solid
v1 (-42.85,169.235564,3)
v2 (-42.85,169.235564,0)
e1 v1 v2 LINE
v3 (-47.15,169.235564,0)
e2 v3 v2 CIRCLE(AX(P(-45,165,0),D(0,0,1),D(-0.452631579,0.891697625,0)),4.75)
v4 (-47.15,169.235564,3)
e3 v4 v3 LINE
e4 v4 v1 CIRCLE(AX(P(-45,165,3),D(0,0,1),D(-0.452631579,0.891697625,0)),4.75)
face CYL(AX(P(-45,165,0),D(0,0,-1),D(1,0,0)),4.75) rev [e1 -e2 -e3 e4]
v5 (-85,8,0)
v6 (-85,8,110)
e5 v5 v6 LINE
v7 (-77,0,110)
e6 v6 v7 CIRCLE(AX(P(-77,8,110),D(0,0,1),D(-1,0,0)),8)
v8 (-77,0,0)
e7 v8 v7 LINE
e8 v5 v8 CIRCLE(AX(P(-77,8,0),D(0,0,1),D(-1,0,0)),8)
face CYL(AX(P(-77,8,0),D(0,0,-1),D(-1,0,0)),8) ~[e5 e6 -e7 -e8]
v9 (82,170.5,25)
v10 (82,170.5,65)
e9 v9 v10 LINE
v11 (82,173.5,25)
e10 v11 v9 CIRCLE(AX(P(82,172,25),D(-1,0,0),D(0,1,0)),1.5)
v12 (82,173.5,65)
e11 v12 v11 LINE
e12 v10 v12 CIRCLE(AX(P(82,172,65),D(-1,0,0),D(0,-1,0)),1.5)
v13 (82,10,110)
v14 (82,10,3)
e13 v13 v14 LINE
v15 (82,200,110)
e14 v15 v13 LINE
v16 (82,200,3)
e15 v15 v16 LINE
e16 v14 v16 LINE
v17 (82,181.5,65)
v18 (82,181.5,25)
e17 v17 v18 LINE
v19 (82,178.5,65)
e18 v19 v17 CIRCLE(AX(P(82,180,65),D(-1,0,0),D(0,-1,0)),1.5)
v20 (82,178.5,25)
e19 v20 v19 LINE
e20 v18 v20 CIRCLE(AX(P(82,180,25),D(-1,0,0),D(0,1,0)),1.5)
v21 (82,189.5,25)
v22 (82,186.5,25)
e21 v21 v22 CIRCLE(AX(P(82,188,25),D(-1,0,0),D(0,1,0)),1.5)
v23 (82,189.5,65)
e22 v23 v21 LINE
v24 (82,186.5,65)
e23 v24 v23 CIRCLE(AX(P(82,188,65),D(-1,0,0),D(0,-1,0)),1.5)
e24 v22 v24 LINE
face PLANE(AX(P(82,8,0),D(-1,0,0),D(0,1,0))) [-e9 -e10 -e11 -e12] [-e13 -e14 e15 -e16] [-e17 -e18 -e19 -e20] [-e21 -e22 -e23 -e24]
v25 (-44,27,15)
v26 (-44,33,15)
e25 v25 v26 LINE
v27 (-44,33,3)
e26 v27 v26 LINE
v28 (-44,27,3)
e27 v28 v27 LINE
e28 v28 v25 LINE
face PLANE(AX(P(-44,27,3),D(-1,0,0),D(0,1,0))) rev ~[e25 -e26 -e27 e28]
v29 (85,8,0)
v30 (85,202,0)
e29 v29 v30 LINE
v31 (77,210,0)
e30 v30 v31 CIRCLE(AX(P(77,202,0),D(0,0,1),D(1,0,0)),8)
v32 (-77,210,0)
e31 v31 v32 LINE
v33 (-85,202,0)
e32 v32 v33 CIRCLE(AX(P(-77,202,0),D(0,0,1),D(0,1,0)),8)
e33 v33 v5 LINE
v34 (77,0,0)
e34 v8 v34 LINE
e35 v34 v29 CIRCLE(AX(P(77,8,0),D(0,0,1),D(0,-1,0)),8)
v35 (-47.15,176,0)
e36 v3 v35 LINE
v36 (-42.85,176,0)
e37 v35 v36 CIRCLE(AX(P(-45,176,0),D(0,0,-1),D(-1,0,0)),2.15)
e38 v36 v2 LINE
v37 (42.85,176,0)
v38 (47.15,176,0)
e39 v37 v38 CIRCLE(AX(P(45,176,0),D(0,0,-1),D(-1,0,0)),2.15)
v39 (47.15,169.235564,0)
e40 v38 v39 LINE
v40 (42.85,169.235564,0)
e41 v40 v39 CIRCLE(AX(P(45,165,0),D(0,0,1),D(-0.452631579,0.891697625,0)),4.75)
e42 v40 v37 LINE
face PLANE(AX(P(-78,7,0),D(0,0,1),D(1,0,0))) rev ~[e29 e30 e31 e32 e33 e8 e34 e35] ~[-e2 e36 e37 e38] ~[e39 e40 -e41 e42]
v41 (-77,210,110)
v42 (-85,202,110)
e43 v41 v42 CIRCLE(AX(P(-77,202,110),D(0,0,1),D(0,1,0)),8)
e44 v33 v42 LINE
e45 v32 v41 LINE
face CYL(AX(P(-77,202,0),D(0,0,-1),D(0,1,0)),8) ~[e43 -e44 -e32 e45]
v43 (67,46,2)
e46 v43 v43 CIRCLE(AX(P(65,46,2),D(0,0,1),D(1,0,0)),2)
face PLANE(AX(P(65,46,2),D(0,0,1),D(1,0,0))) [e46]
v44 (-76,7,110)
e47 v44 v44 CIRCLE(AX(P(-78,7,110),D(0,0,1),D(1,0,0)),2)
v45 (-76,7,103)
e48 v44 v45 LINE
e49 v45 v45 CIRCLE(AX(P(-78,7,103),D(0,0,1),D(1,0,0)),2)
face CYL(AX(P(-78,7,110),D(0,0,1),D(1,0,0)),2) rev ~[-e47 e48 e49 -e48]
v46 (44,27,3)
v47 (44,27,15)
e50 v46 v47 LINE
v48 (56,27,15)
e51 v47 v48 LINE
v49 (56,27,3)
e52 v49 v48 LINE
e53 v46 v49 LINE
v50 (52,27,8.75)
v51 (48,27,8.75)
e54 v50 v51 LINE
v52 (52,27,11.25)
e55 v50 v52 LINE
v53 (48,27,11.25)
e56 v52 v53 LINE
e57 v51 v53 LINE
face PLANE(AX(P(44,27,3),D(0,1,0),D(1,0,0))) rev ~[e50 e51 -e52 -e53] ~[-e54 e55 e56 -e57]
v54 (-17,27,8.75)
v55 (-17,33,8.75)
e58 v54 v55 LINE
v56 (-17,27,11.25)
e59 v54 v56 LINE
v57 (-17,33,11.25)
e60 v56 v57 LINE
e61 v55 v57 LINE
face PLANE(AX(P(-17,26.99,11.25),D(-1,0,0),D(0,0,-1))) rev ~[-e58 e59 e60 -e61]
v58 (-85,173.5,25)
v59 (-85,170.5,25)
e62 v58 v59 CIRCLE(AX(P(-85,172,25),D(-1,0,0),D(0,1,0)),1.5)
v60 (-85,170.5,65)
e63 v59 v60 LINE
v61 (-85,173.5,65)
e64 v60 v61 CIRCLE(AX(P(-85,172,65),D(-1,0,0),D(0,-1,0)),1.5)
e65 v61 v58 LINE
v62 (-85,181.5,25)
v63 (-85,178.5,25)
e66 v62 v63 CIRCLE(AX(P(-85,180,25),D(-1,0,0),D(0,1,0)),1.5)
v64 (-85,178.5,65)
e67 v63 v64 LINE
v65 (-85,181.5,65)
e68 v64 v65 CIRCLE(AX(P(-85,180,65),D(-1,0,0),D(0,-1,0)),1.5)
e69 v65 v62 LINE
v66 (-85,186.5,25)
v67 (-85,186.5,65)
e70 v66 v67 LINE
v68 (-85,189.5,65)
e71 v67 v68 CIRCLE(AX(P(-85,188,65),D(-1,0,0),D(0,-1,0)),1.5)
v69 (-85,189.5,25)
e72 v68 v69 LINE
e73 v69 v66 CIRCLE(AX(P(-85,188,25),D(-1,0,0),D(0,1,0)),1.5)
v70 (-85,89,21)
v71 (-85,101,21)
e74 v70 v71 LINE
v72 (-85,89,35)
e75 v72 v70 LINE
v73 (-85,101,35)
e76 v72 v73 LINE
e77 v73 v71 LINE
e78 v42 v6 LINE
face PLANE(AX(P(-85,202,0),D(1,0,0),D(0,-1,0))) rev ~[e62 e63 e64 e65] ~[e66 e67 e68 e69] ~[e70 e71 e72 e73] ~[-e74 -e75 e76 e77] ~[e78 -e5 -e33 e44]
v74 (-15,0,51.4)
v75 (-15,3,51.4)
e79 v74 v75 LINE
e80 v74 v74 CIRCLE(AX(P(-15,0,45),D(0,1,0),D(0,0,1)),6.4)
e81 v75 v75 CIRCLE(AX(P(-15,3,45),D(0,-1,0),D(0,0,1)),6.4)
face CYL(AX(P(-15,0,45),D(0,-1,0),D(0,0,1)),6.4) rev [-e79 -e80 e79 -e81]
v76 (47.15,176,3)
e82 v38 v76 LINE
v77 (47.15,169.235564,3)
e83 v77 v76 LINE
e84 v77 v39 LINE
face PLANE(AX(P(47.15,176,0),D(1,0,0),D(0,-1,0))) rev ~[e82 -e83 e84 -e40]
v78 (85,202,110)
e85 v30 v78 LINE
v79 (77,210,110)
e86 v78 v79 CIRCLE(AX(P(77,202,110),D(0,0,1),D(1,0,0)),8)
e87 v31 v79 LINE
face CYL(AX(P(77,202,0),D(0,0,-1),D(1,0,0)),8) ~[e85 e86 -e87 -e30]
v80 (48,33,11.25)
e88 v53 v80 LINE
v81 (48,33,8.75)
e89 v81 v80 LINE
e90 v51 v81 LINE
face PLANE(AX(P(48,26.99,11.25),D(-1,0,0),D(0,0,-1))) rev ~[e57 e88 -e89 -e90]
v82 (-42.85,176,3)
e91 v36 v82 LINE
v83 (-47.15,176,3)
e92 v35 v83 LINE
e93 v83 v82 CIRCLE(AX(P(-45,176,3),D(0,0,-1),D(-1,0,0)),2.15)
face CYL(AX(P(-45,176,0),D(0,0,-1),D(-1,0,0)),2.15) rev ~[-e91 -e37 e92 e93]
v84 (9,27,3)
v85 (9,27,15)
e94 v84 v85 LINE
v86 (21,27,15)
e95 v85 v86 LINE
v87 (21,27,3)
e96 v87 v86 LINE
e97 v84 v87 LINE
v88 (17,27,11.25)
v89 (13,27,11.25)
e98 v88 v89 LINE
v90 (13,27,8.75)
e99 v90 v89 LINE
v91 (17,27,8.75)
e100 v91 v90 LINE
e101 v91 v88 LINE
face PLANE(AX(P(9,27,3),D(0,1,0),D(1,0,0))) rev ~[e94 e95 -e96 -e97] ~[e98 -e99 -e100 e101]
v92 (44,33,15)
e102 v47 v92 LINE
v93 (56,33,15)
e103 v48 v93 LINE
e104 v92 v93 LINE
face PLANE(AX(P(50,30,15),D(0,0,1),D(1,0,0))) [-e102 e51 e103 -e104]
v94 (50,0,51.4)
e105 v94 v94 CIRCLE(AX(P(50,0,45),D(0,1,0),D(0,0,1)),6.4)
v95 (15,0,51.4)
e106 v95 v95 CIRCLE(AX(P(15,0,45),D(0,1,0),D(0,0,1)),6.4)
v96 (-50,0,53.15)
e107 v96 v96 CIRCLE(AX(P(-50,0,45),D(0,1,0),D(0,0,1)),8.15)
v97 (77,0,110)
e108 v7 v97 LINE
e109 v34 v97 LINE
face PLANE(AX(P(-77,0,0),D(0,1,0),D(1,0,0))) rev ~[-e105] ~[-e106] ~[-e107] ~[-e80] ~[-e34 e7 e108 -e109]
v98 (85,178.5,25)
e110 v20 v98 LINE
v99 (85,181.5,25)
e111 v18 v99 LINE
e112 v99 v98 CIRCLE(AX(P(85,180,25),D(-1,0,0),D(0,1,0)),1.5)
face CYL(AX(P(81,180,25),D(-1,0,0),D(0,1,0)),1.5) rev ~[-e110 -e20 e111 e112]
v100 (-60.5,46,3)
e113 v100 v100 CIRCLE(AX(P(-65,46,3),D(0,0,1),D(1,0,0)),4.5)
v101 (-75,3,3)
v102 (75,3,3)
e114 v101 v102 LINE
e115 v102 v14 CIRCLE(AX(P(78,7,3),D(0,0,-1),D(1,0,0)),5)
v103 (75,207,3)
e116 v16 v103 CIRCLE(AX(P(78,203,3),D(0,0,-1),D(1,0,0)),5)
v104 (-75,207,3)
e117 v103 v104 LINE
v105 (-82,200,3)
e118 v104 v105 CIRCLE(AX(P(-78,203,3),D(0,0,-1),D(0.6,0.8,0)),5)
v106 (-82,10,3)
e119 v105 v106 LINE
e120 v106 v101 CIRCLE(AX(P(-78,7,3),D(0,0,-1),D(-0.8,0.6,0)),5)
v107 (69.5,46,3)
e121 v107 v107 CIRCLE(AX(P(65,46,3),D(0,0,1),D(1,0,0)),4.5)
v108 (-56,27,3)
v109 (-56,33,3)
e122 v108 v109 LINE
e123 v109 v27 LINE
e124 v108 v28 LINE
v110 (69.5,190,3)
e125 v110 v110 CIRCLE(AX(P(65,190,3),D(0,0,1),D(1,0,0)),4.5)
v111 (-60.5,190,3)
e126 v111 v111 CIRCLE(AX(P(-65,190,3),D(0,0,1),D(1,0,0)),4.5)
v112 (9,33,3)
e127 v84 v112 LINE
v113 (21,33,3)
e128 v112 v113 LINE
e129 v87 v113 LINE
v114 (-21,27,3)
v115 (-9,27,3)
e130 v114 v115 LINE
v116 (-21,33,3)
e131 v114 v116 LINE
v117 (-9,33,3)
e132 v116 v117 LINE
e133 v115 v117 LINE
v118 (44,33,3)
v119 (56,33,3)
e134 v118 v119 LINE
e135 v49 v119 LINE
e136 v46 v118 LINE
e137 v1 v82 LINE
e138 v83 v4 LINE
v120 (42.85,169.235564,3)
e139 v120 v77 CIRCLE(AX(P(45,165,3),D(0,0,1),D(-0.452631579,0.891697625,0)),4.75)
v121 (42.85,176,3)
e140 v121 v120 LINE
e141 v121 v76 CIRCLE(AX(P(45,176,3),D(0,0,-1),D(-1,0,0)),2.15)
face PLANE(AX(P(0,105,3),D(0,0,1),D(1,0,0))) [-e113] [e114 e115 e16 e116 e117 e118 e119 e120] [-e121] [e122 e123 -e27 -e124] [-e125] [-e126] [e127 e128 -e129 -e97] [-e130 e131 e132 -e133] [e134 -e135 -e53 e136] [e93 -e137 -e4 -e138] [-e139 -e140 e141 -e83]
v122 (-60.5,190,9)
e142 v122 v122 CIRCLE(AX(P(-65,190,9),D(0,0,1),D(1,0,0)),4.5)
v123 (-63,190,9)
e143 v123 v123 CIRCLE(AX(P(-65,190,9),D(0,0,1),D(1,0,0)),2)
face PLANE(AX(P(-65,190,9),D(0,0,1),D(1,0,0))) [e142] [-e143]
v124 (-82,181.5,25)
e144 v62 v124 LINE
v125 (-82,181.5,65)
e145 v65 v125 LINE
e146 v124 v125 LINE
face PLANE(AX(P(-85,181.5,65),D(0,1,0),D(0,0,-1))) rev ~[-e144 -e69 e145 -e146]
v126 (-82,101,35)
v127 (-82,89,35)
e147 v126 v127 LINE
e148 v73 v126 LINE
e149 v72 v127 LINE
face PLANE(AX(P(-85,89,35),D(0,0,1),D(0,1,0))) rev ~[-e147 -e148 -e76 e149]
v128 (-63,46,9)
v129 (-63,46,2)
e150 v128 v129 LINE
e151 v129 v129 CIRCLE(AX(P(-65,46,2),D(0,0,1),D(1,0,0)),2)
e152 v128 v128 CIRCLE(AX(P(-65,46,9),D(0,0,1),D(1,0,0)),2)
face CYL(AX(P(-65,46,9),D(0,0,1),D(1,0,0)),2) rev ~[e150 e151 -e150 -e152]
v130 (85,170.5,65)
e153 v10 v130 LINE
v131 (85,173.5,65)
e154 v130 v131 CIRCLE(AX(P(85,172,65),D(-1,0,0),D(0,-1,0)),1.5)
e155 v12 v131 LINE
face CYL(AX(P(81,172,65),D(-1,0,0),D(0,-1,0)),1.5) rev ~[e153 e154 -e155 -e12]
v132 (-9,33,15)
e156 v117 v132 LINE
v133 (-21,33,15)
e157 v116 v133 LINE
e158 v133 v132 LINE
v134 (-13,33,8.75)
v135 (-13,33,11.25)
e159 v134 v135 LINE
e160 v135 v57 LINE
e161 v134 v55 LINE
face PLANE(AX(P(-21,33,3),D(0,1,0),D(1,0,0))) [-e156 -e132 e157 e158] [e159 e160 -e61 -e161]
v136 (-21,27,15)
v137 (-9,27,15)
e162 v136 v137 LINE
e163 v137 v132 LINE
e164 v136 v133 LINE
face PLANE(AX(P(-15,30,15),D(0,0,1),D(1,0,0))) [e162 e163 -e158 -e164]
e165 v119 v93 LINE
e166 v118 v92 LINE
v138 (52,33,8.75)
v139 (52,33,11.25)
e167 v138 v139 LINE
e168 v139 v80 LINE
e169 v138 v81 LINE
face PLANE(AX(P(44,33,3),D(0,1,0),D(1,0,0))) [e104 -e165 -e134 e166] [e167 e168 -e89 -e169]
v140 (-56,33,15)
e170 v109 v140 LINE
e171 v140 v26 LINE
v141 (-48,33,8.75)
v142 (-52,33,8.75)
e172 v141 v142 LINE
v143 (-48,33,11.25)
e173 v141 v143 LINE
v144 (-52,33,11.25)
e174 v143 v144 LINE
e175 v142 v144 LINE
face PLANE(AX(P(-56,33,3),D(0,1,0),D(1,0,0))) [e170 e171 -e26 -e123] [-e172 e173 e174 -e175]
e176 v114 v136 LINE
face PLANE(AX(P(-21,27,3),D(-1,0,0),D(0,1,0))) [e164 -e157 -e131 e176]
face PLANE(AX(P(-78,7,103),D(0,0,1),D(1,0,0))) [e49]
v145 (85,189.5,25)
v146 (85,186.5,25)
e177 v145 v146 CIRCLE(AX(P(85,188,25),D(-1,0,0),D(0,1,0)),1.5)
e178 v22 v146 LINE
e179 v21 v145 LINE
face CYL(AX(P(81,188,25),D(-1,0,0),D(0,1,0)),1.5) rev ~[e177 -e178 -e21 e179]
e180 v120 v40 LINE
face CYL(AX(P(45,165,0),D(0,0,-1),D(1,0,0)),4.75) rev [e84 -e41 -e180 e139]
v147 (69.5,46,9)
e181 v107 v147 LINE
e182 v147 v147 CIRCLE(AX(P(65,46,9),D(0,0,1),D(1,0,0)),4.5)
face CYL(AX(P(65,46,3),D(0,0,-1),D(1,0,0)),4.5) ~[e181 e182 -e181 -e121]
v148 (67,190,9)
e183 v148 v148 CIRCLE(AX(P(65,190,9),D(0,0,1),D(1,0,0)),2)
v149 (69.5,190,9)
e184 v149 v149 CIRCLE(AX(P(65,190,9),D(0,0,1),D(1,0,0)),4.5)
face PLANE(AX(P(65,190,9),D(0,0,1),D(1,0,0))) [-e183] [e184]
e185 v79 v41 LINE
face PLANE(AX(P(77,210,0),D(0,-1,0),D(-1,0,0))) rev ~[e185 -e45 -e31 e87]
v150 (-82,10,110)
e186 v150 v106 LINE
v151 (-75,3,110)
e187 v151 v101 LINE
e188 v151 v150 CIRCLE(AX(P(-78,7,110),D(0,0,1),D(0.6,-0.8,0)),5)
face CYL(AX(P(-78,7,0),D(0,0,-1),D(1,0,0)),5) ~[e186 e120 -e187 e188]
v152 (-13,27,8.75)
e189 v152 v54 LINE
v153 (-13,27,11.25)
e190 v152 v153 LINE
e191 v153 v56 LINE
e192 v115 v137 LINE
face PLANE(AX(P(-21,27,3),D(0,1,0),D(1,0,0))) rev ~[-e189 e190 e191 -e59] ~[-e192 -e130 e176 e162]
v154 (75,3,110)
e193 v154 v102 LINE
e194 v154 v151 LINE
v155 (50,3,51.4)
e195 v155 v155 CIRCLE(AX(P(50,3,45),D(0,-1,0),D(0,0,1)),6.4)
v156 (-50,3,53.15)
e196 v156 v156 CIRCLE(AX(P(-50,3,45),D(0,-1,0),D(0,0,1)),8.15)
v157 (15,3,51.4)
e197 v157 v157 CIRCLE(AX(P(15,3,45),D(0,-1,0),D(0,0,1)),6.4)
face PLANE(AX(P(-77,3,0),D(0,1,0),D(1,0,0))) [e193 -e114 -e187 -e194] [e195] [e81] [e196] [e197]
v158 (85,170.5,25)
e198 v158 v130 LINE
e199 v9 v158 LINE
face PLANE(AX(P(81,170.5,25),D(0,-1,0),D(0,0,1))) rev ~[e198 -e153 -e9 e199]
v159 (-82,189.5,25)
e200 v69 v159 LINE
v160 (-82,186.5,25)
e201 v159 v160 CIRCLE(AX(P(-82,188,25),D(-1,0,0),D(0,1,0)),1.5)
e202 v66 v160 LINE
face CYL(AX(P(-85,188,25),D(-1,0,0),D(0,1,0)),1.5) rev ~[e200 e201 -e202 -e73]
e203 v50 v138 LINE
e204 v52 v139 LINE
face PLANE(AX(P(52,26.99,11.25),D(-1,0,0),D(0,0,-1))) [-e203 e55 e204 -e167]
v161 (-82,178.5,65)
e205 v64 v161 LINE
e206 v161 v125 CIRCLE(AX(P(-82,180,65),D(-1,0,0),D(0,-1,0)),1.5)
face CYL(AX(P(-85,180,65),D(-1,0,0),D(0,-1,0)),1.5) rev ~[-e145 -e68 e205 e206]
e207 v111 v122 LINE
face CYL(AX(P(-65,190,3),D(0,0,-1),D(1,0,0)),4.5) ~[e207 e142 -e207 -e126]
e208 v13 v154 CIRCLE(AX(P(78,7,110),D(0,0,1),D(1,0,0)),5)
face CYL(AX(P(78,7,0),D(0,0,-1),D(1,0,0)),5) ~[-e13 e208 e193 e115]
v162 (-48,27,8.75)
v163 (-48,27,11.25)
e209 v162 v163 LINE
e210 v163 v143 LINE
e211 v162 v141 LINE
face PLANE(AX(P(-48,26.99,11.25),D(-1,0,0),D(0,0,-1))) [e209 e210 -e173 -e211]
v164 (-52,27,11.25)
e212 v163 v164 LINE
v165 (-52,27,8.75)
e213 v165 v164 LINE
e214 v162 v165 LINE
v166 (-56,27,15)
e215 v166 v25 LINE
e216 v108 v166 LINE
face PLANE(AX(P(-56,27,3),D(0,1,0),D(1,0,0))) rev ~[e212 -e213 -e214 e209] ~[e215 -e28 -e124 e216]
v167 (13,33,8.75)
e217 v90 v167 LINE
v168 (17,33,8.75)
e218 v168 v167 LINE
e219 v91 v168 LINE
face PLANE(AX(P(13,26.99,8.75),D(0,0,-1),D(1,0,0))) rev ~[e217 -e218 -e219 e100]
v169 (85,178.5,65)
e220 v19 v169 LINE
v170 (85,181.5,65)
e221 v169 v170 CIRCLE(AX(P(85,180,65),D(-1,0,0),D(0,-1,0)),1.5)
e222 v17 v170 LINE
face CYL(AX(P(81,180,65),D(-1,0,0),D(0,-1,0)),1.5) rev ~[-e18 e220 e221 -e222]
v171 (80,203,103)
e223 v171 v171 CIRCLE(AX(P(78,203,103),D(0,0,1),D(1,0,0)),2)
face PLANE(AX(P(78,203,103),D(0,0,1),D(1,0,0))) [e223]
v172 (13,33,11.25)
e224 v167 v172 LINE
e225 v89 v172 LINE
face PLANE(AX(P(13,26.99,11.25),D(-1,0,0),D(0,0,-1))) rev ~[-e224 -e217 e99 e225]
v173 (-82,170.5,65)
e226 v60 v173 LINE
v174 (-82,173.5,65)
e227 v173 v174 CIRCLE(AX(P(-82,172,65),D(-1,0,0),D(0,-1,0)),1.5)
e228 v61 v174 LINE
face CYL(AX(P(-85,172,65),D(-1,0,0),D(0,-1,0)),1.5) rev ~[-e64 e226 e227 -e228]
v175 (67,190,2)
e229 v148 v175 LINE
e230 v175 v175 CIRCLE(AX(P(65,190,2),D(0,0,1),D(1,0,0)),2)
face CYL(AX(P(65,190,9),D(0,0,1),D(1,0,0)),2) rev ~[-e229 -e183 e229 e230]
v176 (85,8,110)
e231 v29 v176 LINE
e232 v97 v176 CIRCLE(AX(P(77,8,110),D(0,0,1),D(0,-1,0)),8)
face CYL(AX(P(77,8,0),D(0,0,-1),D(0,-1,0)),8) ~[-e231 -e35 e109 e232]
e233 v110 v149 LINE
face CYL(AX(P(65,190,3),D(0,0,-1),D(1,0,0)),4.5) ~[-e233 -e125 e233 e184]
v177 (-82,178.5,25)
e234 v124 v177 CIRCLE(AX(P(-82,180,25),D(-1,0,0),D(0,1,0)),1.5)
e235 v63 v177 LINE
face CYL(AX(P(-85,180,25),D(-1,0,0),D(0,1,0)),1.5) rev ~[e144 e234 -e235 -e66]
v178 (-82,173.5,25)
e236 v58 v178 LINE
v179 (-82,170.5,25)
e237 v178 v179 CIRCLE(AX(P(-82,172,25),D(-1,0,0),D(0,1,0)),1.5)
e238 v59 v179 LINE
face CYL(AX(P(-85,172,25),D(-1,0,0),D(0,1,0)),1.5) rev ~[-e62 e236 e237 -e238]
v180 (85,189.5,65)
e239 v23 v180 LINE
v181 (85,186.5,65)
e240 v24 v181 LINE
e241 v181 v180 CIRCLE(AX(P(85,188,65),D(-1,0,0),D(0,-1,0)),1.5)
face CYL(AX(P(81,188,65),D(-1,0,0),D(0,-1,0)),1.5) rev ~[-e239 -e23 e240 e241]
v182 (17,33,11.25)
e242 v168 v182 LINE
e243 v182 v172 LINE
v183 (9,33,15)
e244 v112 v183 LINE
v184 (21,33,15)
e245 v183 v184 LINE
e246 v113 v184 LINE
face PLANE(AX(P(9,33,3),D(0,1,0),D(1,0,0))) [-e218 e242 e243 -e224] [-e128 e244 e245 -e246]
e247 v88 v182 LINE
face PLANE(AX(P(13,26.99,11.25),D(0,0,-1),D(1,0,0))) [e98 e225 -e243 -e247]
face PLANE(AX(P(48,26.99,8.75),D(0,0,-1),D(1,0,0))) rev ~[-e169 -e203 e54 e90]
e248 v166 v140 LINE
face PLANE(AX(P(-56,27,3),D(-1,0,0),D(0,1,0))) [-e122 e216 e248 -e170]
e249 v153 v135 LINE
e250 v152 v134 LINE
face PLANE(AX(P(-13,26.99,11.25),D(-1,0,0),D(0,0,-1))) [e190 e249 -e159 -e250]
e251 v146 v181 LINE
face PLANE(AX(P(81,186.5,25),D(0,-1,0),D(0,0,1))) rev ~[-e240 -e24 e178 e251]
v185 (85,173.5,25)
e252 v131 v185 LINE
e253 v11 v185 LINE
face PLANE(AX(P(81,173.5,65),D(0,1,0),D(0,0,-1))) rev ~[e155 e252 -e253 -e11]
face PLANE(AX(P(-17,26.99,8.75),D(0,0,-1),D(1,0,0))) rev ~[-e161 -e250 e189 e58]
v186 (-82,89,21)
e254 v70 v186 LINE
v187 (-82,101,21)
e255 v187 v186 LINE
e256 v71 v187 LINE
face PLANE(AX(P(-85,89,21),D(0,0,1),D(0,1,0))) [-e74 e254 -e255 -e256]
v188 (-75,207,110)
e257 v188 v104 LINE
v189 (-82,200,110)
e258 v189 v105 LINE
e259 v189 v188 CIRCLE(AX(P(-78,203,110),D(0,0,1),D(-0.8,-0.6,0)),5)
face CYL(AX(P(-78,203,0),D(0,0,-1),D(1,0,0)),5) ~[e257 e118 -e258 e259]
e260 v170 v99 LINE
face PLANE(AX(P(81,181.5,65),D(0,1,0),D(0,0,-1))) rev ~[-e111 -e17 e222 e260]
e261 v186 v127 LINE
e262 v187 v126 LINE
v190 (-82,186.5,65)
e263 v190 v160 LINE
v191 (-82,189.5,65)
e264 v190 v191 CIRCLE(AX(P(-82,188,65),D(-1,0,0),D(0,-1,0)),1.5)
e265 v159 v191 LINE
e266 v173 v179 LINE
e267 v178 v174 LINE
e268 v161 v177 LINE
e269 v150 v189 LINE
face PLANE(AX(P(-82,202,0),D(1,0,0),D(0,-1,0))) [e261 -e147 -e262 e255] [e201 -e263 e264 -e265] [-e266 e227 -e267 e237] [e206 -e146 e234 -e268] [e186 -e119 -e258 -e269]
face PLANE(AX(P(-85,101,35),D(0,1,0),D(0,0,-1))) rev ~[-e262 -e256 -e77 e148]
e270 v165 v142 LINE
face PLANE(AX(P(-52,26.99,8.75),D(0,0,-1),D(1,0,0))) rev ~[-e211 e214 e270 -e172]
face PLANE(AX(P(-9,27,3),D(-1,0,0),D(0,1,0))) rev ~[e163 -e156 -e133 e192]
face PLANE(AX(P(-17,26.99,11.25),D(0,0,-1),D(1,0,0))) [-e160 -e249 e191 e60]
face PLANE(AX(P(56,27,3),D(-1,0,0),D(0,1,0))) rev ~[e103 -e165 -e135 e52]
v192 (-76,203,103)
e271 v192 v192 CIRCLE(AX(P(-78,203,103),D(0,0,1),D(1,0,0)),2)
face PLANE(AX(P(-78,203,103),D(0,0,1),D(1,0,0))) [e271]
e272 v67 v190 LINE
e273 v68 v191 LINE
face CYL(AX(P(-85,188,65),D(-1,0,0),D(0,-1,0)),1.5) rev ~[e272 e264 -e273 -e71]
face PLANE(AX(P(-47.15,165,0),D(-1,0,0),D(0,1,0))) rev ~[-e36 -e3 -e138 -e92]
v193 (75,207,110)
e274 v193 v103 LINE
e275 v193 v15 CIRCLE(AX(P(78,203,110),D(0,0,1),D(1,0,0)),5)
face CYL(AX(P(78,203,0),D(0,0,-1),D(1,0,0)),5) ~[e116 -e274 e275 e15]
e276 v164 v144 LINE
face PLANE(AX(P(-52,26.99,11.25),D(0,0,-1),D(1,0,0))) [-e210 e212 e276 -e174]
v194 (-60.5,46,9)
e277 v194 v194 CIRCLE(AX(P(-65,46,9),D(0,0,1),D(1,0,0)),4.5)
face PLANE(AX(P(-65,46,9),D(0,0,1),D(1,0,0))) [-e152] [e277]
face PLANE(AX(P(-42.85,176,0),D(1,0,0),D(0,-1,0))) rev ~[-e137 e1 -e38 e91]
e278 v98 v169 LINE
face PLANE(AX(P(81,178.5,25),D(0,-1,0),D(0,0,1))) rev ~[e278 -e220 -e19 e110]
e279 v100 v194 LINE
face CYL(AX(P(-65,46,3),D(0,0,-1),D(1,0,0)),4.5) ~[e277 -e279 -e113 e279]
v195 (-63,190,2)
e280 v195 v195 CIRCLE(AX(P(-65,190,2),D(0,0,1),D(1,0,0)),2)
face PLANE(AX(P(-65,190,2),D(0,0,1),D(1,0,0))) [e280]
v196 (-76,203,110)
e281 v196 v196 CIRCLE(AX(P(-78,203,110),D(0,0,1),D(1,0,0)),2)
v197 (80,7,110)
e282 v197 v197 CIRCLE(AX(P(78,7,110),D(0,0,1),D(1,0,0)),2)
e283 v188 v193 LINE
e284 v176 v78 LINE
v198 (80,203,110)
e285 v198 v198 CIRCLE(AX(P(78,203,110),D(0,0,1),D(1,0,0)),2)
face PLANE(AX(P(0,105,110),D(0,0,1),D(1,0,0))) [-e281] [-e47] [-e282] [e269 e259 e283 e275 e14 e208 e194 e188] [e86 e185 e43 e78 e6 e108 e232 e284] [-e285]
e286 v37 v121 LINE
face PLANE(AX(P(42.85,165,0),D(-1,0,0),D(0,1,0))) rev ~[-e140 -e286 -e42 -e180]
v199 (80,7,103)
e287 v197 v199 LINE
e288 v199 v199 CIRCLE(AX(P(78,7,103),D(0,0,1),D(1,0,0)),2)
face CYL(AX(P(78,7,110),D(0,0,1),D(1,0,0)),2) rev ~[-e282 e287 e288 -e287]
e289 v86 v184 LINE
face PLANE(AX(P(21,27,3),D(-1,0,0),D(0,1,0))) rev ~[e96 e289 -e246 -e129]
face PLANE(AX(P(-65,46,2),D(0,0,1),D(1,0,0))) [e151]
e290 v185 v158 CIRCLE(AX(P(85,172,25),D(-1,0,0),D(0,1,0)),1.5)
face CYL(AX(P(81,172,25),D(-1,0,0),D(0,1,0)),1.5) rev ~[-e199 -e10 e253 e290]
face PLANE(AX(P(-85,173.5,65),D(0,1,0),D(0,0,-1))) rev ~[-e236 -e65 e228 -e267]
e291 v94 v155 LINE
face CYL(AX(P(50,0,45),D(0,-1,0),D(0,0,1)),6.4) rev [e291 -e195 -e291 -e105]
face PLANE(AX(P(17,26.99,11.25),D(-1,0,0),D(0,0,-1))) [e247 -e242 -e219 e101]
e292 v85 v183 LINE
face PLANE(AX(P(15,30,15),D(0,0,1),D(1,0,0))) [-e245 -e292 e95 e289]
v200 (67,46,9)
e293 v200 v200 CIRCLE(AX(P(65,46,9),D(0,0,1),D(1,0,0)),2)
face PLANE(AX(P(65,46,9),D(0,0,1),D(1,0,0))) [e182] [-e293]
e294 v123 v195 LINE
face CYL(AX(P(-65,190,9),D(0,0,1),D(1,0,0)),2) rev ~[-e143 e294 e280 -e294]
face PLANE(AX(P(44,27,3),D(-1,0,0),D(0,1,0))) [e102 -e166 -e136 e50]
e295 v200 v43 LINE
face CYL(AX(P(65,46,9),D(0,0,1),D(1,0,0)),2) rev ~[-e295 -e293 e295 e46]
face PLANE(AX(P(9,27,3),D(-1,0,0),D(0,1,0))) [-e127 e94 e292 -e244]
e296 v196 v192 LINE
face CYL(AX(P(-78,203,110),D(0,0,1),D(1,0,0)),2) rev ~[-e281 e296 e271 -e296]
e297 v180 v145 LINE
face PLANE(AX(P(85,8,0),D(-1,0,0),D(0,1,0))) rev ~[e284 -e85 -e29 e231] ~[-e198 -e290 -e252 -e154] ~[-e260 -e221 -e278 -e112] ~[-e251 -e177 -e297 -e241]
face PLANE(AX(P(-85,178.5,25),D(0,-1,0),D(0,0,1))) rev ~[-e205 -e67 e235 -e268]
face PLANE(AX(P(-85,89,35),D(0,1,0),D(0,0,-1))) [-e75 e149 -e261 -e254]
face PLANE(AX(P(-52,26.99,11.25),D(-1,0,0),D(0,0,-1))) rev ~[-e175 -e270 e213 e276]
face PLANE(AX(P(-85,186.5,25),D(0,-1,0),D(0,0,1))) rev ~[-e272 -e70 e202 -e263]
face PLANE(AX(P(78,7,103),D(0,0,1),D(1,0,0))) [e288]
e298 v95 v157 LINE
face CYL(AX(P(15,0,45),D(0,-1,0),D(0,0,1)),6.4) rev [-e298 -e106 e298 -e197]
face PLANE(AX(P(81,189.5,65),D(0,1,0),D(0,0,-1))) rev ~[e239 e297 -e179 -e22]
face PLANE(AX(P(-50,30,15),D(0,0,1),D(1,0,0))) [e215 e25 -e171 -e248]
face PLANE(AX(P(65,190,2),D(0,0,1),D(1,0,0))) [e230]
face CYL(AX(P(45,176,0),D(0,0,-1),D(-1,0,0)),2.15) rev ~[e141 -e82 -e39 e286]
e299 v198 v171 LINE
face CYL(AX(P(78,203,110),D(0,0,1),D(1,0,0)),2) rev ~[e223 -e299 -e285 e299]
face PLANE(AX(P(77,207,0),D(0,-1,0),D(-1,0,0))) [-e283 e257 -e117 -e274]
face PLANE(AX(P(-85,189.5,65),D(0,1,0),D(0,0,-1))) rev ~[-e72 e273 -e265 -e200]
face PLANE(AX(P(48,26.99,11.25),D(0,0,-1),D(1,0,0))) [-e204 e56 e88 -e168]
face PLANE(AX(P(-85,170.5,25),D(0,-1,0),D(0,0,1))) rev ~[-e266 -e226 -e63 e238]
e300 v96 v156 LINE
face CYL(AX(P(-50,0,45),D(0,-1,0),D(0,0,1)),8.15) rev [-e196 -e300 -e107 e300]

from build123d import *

# Parameters (mm, degrees)
BLOCK_DEPTH                    = 110
SHELL1_T                       = -3
SKETCH2_R                      = 5
CORNER_COLUMNS_DEPTH           = 110
SKETCH3_R                      = 2
FRONT_PANEL_INSERT_HOLES_DEPTH = 7
SKETCH4_R                      = 4.5
PLATE_BOSSES_DEPTH             = 6
SKETCH5_R                      = 2
PLATE_INSERT_HOLES_DEPTH       = 7
SKETCH6_R                      = 8.15
SKETCH6_R_2                    = 6.4
CABLE_GLAND_HOLES_DEPTH        = 4
SKETCH7_W                      = 12
SKETCH7_H                      = 6
CABLE_TIE_BARS_DEPTH           = 12
SKETCH8_W                      = 4
SKETCH8_H                      = 2.5
CABLE_TIE_SLOTS_DEPTH          = 6.02
SKETCH9_W                      = 14
SKETCH9_H                      = 12
USB_ACCESS_DEPTH               = 4
VENTS_LEFT_DEPTH               = 4
VENTS_START                    = -4
VENTS_RIGHT_DEPTH              = 4
SKETCH12_R                     = 4.75
KEYHOLE_HEADS_DEPTH            = 4
KEYHOLE_SLOTS_DEPTH            = 4


with BuildPart() as part:
    # Sketch1 → Block (new body)
    with BuildSketch(Plane.XY):
        with BuildLine():
            Line((-77, 0), (77, 0))
            ThreePointArc((77, 0), (82.656854249, 2.343145751), (85, 8))
            Line((85, 8), (85, 202))
            ThreePointArc((85, 202), (82.656854249, 207.656854249), (77, 210))
            Line((77, 210), (-77, 210))
            ThreePointArc((-77, 210), (-82.656854249, 207.656854249), (-85, 202))
            Line((-85, 202), (-85, 8))
            ThreePointArc((-85, 8), (-82.656854249, 2.343145751), (-77, 0))
        make_face()
    extrude(amount=BLOCK_DEPTH)

    # Shell1
    shell1_openings = [part.faces().sort_by_distance(p)[0] for p in [
        (0, 105, 110),
    ]]
    offset(amount=SHELL1_T, openings=shell1_openings, kind=Kind.INTERSECTION)

    # Sketch2 → Corner columns (add)
    with BuildSketch(Plane.XY):
        with Locations((-78, 7)):
            Circle(SKETCH2_R)
        with Locations((78, 7)):
            Circle(SKETCH2_R)
        with Locations((-78, 203)):
            Circle(SKETCH2_R)
        with Locations((78, 203)):
            Circle(SKETCH2_R)
    extrude(amount=CORNER_COLUMNS_DEPTH)

    # Sketch3 → Front panel insert holes (cut)
    with BuildSketch(Plane.XY.offset(110)):
        with Locations((-78, 7)):
            Circle(SKETCH3_R)
        with Locations((78, 7)):
            Circle(SKETCH3_R)
        with Locations((-78, 203)):
            Circle(SKETCH3_R)
        with Locations((78, 203)):
            Circle(SKETCH3_R)
    extrude(amount=-FRONT_PANEL_INSERT_HOLES_DEPTH, mode=Mode.SUBTRACT)

    # Sketch4 → Plate bosses (add)
    with BuildSketch(Plane.XY.offset(3)):
        with Locations((-65, 46)):
            Circle(SKETCH4_R)
        with Locations((65, 46)):
            Circle(SKETCH4_R)
        with Locations((-65, 190)):
            Circle(SKETCH4_R)
        with Locations((65, 190)):
            Circle(SKETCH4_R)
    extrude(amount=PLATE_BOSSES_DEPTH)

    # Sketch5 → Plate insert holes (cut)
    with BuildSketch(Plane.XY.offset(9)):
        with Locations((-65, 46)):
            Circle(SKETCH5_R)
        with Locations((65, 46)):
            Circle(SKETCH5_R)
        with Locations((-65, 190)):
            Circle(SKETCH5_R)
        with Locations((65, 190)):
            Circle(SKETCH5_R)
    extrude(amount=-PLATE_INSERT_HOLES_DEPTH, mode=Mode.SUBTRACT)

    # Sketch6 → Cable gland holes (cut)
    with BuildSketch(Plane(origin=(0, 0, 0), x_dir=(1, 0, 0), z_dir=(0, 1, 0))):
        with Locations(Location((-50, -45, 0), (0, 0, 270))):
            Circle(SKETCH6_R)
        with Locations(Location((-15, -45, 0), (0, 0, 270))):
            Circle(SKETCH6_R_2)
        with Locations(Location((15, -45, 0), (0, 0, 270))):
            Circle(SKETCH6_R_2)
        with Locations(Location((50, -45, 0), (0, 0, 270))):
            Circle(SKETCH6_R_2)
    extrude(amount=CABLE_GLAND_HOLES_DEPTH, mode=Mode.SUBTRACT)

    # Sketch7 → Cable tie bars (add)
    with BuildSketch(Plane.XY.offset(3)):
        with Locations((-50, 30)):
            Rectangle(SKETCH7_W, SKETCH7_H)
        with Locations((-15, 30)):
            Rectangle(SKETCH7_W, SKETCH7_H)
        with Locations((15, 30)):
            Rectangle(SKETCH7_W, SKETCH7_H)
        with Locations((50, 30)):
            Rectangle(SKETCH7_W, SKETCH7_H)
    extrude(amount=CABLE_TIE_BARS_DEPTH)

    # Sketch8 → Cable tie slots (cut)
    with BuildSketch(Plane(origin=(0, 26.99, 0), x_dir=(1, 0, 0), z_dir=(0, 1, 0))):
        with Locations((-50, -10)):
            Rectangle(SKETCH8_W, SKETCH8_H)
        with Locations((-15, -10)):
            Rectangle(SKETCH8_W, SKETCH8_H)
        with Locations((15, -10)):
            Rectangle(SKETCH8_W, SKETCH8_H)
        with Locations((50, -10)):
            Rectangle(SKETCH8_W, SKETCH8_H)
    extrude(amount=CABLE_TIE_SLOTS_DEPTH, mode=Mode.SUBTRACT)

    # Sketch9 → USB access (cut)
    with BuildSketch(Plane(origin=(-85, 0, 0), x_dir=(0, 0, -1), z_dir=(1, 0, 0))):
        with Locations((-28, 95)):
            Rectangle(SKETCH9_W, SKETCH9_H)
    extrude(amount=USB_ACCESS_DEPTH, mode=Mode.SUBTRACT)

    # Sketch10 → Vents left (cut)
    with BuildSketch(Plane(origin=(-85, 0, 0), x_dir=(0, 0, -1), z_dir=(1, 0, 0))):
        with BuildLine():
            Line((-25, 170.5), (-65, 170.5))
            ThreePointArc((-65, 170.5), (-66.5, 172), (-65, 173.5))
            Line((-65, 173.5), (-25, 173.5))
            ThreePointArc((-25, 173.5), (-23.5, 172), (-25, 170.5))
        make_face()
        with BuildLine():
            Line((-25, 178.5), (-65, 178.5))
            ThreePointArc((-65, 178.5), (-66.5, 180), (-65, 181.5))
            Line((-65, 181.5), (-25, 181.5))
            ThreePointArc((-25, 181.5), (-23.5, 180), (-25, 178.5))
        make_face()
        with BuildLine():
            Line((-25, 186.5), (-65, 186.5))
            ThreePointArc((-65, 186.5), (-66.5, 188), (-65, 189.5))
            Line((-65, 189.5), (-25, 189.5))
            ThreePointArc((-25, 189.5), (-23.5, 188), (-25, 186.5))
        make_face()
    extrude(amount=VENTS_LEFT_DEPTH, mode=Mode.SUBTRACT)

    # Sketch11 → Vents right (cut)
    with BuildSketch(Plane(origin=(85, 0, 0), x_dir=(0, 0, -1), z_dir=(1, 0, 0)).offset(VENTS_START)):
        with BuildLine():
            Line((-25, 170.5), (-65, 170.5))
            ThreePointArc((-65, 170.5), (-66.5, 172), (-65, 173.5))
            Line((-65, 173.5), (-25, 173.5))
            ThreePointArc((-25, 173.5), (-23.5, 172), (-25, 170.5))
        make_face()
        with BuildLine():
            Line((-25, 178.5), (-65, 178.5))
            ThreePointArc((-65, 178.5), (-66.5, 180), (-65, 181.5))
            Line((-65, 181.5), (-25, 181.5))
            ThreePointArc((-25, 181.5), (-23.5, 180), (-25, 178.5))
        make_face()
        with BuildLine():
            Line((-25, 186.5), (-65, 186.5))
            ThreePointArc((-65, 186.5), (-66.5, 188), (-65, 189.5))
            Line((-65, 189.5), (-25, 189.5))
            ThreePointArc((-25, 189.5), (-23.5, 188), (-25, 186.5))
        make_face()
    extrude(amount=VENTS_RIGHT_DEPTH, mode=Mode.SUBTRACT)

    # Sketch12 → Keyhole heads (cut)
    with BuildSketch(Plane.XY):
        with Locations((-45, 165)):
            Circle(SKETCH12_R)
        with Locations((45, 165)):
            Circle(SKETCH12_R)
    extrude(amount=KEYHOLE_HEADS_DEPTH, mode=Mode.SUBTRACT)

    # Sketch13 → Keyhole slots (cut)
    with BuildSketch(Plane.XY):
        with BuildLine():
            Line((-47.15, 165), (-47.15, 176))
            ThreePointArc((-47.15, 176), (-45, 178.15), (-42.85, 176))
            Line((-42.85, 176), (-42.85, 165))
            ThreePointArc((-42.85, 165), (-45, 162.85), (-47.15, 165))
        make_face()
        with BuildLine():
            Line((42.85, 165), (42.85, 176))
            ThreePointArc((42.85, 176), (45, 178.15), (47.15, 176))
            Line((47.15, 176), (47.15, 165))
            ThreePointArc((47.15, 165), (45, 162.85), (42.85, 165))
        make_face()
    extrude(amount=KEYHOLE_SLOTS_DEPTH, mode=Mode.SUBTRACT)


solid = part.part
